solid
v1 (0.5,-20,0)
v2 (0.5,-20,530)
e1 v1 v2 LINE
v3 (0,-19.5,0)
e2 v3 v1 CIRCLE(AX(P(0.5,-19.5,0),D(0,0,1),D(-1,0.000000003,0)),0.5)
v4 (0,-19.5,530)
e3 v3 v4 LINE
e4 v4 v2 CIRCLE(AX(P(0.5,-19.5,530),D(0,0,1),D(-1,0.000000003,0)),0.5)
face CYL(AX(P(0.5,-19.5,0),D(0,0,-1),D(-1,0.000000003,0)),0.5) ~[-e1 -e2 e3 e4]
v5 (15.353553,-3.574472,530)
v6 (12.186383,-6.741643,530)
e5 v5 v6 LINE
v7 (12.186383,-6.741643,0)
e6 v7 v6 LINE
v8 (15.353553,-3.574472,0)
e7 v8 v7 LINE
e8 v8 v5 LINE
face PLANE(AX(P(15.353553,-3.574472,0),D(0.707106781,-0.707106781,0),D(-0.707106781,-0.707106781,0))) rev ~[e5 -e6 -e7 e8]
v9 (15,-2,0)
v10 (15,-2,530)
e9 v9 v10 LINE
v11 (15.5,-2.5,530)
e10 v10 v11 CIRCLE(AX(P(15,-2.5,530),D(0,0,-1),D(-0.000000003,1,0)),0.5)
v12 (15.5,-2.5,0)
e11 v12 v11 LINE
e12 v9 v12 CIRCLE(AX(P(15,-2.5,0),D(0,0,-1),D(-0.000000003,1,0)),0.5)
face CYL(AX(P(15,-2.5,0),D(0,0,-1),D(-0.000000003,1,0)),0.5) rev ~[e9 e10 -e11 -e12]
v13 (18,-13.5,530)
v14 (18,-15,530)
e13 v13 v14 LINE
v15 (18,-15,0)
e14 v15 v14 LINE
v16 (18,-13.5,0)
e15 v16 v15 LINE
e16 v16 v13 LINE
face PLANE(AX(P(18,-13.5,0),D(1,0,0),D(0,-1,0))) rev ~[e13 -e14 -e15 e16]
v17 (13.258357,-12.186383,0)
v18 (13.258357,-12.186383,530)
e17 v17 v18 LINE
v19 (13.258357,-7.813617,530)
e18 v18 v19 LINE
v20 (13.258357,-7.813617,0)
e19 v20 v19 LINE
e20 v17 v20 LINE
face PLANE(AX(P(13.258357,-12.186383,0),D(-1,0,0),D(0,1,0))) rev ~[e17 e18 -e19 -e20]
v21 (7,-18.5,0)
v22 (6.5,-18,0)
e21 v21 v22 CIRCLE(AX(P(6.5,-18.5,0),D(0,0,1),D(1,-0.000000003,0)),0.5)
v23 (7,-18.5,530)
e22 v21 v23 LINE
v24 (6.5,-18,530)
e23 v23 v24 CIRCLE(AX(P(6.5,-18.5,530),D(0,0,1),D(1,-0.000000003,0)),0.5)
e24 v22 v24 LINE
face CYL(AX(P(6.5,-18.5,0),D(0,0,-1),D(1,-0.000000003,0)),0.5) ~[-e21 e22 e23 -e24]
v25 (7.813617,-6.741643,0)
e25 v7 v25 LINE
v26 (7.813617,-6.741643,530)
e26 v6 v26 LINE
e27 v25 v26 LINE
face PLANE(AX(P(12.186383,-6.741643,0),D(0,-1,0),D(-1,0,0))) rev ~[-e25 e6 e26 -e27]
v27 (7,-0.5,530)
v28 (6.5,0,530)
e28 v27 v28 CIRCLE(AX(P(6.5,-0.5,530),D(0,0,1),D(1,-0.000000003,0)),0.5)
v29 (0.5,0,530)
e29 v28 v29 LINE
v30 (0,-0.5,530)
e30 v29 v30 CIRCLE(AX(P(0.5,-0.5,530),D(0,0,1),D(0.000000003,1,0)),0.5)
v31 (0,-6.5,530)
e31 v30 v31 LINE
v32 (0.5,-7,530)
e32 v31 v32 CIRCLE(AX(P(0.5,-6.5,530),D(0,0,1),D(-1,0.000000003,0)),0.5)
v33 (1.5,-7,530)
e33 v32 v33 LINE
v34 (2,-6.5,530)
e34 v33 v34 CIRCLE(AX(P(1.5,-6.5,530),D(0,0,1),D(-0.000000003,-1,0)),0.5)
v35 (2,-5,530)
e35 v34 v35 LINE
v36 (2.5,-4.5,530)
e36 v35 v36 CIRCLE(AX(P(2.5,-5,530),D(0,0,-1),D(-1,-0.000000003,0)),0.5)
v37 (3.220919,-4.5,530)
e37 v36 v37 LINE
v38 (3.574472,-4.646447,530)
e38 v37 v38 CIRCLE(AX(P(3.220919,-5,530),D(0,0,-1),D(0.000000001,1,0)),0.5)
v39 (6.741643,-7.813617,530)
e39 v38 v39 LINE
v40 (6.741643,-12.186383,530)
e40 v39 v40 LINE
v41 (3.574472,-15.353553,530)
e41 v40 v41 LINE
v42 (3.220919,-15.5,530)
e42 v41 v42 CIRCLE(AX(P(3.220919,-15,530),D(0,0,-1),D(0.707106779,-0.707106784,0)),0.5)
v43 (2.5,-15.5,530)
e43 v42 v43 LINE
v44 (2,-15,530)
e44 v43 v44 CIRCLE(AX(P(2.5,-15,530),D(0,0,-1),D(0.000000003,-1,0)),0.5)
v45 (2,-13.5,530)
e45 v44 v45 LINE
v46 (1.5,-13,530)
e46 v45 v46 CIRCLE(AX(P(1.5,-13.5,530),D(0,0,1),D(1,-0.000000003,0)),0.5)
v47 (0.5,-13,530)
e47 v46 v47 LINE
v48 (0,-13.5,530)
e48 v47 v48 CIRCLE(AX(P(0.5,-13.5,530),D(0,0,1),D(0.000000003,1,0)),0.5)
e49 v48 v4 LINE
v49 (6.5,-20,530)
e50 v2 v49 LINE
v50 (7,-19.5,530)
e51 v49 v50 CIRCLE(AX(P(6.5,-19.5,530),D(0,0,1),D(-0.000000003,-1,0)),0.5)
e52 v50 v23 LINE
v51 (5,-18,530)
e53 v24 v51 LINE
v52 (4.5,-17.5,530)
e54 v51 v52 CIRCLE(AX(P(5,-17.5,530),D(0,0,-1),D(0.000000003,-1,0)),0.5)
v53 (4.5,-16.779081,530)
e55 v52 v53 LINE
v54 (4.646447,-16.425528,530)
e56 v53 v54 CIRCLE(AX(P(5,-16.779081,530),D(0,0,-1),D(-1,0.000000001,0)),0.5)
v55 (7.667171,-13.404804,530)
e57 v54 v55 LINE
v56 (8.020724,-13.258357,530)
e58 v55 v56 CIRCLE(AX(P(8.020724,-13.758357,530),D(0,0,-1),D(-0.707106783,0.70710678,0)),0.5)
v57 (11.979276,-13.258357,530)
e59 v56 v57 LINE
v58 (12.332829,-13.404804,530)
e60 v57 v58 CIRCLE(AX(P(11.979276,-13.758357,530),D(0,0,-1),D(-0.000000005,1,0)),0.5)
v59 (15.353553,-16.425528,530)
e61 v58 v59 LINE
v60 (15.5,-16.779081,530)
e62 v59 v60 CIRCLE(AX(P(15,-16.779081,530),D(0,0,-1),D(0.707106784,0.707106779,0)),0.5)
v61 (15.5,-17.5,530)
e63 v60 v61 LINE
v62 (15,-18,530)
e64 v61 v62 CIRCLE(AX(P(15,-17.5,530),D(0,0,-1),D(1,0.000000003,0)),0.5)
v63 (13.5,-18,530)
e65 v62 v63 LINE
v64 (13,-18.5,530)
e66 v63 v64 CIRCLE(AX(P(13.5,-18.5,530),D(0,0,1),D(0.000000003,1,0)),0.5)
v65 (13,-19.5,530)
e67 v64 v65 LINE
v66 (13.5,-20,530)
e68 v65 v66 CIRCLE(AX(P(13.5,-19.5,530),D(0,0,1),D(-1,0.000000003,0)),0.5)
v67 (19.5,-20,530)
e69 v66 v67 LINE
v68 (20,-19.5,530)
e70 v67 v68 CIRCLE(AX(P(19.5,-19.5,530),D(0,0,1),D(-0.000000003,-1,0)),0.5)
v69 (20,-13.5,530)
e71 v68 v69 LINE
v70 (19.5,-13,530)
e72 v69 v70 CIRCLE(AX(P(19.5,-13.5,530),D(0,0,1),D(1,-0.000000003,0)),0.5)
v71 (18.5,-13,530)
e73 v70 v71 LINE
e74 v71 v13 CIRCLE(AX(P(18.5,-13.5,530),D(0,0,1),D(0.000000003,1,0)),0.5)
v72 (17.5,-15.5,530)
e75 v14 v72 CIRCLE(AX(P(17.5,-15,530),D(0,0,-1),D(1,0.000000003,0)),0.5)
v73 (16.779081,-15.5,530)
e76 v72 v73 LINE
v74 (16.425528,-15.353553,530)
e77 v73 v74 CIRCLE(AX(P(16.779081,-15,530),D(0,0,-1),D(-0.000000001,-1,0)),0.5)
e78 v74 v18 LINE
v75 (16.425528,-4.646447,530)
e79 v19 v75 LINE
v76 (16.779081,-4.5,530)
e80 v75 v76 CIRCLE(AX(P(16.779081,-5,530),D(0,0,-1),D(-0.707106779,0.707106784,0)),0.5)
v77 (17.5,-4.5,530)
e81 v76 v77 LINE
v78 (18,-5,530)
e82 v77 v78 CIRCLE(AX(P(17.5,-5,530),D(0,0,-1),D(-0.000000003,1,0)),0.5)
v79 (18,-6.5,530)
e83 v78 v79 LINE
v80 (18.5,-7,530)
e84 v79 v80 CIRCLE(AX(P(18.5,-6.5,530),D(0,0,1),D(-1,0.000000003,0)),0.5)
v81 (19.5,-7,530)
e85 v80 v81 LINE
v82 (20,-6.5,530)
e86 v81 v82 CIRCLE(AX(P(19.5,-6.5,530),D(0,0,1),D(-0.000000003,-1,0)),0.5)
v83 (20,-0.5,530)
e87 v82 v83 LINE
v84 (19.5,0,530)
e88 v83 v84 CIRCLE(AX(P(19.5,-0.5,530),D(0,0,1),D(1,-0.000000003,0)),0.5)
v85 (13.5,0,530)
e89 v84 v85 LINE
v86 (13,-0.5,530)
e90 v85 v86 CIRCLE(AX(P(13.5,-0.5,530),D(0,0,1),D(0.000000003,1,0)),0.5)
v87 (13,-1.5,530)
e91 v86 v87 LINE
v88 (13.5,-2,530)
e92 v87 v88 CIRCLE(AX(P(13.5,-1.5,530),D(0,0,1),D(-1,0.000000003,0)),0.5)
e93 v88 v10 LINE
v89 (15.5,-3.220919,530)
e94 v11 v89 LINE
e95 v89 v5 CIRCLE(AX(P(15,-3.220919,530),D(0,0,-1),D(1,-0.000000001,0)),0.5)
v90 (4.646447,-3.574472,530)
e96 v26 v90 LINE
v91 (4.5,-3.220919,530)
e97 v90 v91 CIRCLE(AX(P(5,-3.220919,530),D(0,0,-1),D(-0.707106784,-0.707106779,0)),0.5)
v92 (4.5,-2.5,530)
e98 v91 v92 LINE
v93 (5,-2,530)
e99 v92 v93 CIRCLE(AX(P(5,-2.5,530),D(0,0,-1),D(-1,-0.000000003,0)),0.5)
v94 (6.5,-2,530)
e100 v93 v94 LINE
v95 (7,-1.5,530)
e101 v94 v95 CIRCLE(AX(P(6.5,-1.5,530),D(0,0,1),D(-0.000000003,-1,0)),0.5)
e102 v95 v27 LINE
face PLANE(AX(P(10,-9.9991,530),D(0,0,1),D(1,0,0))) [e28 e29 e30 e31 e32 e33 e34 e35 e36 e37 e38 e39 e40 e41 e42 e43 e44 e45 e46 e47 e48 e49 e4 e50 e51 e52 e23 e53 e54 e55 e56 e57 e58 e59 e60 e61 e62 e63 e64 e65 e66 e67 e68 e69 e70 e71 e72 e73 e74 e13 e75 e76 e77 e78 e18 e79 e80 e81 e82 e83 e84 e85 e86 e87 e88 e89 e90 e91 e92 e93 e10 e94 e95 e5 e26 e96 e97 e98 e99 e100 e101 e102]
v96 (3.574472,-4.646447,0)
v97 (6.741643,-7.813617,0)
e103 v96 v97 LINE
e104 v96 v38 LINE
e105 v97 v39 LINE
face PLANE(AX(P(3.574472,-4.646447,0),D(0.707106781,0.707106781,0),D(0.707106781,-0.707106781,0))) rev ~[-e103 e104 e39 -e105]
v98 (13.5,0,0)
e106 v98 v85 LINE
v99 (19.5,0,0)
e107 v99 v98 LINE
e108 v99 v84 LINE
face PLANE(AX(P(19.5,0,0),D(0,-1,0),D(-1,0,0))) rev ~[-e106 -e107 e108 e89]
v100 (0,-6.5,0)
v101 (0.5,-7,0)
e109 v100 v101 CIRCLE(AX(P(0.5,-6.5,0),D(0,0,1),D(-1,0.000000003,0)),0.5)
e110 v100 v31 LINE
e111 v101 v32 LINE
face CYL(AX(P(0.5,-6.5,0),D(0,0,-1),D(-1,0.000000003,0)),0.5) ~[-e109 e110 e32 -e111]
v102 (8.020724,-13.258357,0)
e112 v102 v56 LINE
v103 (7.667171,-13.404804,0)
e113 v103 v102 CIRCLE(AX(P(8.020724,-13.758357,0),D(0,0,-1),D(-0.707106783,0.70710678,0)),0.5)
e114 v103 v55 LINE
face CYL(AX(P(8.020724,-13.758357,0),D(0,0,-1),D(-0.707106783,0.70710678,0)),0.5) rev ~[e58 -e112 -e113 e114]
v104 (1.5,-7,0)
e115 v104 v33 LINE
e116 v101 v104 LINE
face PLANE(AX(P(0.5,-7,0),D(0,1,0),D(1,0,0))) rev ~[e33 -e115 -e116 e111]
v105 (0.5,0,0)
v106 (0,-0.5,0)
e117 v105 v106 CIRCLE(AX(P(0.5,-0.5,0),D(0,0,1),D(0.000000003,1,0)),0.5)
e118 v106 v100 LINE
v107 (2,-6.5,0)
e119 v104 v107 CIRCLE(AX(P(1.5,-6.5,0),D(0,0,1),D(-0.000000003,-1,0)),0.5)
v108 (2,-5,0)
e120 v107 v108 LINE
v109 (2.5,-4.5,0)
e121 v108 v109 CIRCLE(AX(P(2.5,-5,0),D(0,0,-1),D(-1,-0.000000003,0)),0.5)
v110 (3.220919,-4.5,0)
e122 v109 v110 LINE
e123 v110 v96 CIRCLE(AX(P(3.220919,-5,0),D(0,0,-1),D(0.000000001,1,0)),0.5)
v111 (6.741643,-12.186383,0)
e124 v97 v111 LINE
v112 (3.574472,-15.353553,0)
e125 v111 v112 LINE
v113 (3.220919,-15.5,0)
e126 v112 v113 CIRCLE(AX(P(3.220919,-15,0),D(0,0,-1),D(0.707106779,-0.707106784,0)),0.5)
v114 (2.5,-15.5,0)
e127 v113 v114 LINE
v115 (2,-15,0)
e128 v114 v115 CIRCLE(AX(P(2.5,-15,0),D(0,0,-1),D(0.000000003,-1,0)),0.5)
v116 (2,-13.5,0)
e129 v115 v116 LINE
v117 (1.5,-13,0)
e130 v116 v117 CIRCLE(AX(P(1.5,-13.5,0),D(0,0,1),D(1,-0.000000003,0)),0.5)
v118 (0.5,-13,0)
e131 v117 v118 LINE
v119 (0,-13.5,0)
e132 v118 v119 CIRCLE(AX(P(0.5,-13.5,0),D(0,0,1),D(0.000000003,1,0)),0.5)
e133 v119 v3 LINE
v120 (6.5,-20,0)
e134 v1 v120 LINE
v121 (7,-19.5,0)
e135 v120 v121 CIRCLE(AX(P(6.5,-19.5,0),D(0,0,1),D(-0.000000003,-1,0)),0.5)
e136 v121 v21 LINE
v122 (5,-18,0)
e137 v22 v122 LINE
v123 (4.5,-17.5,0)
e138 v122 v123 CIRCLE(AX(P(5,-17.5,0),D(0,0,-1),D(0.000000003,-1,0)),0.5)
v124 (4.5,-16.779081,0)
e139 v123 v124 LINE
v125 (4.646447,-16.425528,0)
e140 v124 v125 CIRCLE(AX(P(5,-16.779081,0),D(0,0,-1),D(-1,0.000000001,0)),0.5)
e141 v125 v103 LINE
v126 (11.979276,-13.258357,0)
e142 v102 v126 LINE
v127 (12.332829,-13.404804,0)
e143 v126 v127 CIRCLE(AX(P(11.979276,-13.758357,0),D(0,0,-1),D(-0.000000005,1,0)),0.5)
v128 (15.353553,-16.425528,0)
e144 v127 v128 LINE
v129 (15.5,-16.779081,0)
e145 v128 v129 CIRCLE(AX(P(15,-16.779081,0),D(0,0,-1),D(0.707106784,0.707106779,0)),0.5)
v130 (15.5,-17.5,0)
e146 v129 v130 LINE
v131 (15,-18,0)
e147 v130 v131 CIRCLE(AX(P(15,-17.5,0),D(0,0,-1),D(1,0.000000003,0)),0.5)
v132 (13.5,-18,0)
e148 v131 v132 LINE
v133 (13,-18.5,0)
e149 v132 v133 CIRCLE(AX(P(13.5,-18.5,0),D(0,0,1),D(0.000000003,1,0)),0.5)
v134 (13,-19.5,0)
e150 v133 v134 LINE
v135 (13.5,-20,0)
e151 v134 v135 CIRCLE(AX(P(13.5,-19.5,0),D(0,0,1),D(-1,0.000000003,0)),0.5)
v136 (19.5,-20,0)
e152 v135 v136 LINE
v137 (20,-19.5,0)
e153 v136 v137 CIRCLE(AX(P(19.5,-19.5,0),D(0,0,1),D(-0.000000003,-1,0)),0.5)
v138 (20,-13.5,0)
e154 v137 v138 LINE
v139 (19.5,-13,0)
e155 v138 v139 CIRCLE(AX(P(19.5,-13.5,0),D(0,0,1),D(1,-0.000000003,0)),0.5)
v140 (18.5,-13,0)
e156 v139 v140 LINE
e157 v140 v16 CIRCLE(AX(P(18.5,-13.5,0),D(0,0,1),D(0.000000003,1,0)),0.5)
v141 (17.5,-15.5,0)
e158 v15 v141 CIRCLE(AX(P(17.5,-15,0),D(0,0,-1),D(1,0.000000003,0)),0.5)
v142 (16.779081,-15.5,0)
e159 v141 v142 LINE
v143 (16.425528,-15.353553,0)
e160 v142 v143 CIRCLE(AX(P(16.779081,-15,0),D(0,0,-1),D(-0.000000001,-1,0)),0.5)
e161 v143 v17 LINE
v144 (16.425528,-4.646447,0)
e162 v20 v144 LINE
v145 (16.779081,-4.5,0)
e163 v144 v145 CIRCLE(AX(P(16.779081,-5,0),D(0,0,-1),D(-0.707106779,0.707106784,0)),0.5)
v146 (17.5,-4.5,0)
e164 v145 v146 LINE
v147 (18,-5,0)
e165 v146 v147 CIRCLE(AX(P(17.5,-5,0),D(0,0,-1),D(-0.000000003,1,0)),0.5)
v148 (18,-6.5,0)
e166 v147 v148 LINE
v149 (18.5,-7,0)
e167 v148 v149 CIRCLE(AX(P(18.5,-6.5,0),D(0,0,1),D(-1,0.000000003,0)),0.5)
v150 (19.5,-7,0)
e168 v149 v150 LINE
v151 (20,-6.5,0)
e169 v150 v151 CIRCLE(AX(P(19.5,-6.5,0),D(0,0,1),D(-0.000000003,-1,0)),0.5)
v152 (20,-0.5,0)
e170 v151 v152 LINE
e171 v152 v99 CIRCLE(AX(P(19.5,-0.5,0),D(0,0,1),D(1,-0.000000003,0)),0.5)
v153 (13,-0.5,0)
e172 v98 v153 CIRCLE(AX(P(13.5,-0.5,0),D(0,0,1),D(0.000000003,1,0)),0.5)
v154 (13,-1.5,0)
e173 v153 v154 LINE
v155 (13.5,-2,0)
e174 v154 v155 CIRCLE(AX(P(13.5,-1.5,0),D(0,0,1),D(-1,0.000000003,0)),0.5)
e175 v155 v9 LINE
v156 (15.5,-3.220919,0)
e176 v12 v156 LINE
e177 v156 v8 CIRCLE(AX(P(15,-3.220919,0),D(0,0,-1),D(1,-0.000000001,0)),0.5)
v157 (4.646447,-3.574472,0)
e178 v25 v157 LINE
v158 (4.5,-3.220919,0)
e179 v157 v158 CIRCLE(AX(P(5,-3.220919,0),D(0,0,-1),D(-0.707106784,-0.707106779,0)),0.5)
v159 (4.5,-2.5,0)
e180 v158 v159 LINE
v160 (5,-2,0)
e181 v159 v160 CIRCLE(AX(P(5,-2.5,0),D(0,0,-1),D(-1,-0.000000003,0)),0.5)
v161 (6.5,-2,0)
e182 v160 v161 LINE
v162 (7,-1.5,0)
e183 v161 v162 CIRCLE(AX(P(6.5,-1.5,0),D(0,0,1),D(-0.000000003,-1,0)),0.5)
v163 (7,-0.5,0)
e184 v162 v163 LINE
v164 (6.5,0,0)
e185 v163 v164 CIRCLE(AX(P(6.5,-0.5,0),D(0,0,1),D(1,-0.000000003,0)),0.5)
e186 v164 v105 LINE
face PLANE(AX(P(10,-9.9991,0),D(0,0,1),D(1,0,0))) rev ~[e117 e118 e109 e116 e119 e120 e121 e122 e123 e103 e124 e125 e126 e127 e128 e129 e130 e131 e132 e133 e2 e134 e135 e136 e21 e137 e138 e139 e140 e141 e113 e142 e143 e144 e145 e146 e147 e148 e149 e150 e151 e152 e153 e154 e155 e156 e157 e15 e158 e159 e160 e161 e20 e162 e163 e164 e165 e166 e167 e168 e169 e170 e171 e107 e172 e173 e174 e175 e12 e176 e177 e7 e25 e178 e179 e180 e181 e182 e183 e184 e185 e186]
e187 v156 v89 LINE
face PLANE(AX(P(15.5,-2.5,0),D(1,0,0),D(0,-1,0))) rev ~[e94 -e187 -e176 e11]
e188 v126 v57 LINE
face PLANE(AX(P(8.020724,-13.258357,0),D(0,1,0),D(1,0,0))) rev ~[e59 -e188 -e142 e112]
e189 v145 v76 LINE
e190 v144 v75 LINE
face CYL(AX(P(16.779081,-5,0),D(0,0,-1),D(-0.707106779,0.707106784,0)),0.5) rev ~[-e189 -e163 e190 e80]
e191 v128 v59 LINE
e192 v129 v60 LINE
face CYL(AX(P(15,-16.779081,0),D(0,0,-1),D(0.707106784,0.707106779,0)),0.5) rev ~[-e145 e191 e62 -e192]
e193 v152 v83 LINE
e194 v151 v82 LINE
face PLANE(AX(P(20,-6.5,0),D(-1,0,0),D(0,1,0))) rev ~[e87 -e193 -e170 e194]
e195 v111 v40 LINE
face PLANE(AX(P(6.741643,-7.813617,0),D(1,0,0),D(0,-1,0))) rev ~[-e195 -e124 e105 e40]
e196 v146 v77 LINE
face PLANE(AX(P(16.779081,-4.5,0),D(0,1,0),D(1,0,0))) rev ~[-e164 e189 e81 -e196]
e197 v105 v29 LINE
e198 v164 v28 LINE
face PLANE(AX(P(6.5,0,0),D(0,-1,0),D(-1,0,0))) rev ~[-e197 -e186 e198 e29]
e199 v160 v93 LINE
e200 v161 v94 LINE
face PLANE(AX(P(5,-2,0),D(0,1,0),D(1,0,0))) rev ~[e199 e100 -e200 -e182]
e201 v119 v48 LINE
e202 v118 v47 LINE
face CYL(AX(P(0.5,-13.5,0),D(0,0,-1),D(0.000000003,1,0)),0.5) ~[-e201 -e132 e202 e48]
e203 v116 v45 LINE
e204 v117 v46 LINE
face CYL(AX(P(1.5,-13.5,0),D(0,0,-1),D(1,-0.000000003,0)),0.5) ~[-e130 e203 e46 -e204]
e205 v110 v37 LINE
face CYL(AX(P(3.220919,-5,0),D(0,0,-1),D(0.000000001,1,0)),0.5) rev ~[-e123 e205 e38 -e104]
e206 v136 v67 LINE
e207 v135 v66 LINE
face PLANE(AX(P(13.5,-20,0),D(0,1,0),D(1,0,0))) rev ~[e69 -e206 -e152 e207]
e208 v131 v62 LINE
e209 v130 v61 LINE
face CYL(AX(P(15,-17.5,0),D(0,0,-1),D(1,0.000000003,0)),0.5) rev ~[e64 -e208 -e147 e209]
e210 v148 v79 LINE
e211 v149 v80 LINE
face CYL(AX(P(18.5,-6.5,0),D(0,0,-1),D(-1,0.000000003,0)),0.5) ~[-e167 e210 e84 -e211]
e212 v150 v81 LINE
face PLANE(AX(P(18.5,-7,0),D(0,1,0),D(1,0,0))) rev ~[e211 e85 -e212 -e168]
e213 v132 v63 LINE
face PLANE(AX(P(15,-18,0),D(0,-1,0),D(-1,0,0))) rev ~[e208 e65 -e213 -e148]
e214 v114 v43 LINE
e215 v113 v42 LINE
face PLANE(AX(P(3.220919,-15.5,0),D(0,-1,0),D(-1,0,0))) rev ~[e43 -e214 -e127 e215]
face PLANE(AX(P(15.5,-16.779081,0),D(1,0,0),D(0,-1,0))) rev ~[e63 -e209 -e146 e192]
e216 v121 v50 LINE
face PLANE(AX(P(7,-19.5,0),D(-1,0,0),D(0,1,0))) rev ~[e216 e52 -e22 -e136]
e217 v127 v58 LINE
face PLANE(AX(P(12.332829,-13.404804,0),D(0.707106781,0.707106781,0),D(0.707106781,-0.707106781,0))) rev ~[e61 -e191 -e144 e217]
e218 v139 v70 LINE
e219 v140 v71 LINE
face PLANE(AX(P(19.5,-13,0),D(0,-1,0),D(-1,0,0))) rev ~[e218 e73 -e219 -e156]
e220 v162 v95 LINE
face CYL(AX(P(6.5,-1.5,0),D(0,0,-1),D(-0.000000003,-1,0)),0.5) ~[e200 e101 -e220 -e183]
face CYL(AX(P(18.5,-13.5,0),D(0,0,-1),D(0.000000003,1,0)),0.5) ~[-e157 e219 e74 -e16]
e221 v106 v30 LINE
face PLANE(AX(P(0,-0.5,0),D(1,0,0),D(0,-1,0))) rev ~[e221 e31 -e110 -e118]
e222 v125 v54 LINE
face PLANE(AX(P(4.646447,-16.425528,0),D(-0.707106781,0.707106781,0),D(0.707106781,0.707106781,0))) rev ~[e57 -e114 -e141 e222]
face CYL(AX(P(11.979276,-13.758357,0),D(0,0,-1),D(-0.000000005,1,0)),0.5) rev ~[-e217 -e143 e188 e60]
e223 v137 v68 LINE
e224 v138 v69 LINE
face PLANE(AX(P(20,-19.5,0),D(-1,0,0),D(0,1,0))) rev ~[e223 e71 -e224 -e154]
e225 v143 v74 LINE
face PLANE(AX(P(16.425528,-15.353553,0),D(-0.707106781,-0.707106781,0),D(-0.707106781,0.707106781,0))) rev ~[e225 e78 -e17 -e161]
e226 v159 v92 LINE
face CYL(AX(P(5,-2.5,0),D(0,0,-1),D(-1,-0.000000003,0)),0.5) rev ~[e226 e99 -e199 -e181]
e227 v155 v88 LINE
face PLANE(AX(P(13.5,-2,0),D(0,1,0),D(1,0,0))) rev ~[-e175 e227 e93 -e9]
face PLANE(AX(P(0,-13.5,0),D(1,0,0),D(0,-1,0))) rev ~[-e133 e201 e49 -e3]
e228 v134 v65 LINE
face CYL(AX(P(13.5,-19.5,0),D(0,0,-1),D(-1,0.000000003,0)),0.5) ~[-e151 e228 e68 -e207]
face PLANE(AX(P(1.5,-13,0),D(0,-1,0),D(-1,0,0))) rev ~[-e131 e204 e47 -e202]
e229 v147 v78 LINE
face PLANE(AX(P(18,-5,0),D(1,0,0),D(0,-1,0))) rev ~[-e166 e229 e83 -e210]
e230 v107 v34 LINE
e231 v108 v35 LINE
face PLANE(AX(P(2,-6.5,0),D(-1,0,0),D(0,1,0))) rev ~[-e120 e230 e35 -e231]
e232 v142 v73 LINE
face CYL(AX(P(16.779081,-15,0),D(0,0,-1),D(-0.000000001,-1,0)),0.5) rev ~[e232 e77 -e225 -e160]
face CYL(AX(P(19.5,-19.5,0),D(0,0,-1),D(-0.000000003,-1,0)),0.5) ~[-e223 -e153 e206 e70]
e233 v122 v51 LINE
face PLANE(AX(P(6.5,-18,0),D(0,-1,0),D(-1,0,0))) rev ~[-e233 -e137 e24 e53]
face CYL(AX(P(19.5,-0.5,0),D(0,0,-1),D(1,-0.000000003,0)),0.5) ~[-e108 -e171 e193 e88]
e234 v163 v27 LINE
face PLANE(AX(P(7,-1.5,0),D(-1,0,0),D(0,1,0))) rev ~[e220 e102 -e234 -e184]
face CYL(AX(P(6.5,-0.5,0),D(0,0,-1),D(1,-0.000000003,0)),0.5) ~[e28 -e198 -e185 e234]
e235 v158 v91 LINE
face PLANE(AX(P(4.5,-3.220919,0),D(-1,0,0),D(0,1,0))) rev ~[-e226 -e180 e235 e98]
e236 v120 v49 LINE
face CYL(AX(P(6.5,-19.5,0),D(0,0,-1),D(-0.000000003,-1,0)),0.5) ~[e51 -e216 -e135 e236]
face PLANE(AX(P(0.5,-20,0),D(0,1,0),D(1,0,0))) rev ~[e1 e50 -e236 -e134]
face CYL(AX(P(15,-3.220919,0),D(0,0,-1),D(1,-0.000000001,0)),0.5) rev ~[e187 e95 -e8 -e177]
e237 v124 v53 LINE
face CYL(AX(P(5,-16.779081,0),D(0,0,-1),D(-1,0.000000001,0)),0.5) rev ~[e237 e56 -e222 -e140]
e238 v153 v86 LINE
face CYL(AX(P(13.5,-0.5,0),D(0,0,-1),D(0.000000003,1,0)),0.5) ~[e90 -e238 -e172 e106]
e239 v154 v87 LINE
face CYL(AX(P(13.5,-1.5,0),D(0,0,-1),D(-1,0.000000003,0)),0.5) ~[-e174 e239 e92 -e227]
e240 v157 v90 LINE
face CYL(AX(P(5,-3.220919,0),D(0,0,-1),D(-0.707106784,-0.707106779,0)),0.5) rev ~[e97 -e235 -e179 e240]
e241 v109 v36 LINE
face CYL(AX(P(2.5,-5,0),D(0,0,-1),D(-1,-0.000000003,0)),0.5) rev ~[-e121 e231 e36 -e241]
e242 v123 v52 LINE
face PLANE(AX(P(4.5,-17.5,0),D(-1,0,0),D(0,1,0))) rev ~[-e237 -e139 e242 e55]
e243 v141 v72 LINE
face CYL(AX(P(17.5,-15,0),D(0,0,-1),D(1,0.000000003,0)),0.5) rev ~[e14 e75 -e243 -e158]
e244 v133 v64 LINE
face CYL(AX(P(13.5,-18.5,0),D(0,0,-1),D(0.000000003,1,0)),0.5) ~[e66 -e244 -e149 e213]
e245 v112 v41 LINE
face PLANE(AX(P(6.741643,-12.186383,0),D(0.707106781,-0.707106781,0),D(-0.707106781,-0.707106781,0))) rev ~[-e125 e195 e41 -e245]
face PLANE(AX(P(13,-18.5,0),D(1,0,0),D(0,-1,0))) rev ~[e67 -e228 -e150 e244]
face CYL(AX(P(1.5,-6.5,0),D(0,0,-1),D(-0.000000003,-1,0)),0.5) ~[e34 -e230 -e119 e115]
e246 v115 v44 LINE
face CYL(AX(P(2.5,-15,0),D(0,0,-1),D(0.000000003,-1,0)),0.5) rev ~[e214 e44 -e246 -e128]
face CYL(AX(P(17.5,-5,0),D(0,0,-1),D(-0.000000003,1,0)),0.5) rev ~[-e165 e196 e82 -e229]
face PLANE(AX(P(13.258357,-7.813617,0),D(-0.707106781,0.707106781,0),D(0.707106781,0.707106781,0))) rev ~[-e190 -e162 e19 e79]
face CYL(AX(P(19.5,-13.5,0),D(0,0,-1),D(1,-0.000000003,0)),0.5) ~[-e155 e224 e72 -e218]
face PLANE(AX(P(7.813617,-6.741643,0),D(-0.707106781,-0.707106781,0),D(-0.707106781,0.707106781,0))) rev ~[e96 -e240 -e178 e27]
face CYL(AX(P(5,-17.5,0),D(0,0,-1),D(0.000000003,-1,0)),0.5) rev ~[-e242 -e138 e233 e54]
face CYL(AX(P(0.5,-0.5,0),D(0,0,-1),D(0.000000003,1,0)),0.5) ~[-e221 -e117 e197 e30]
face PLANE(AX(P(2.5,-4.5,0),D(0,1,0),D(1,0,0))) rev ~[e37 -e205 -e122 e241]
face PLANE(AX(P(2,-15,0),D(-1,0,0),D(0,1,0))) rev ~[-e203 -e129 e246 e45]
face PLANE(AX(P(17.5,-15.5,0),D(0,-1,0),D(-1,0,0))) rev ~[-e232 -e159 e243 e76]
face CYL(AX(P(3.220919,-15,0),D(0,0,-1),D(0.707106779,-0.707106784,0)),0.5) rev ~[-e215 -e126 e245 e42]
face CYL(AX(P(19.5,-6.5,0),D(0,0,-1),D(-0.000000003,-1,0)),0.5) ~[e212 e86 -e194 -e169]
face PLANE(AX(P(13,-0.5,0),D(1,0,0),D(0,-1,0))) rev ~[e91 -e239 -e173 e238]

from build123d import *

# Parameters (mm, degrees)
EXTRUDE_1_DEPTH = 530


with BuildPart() as part:
    # 草图1 → 凸台-拉伸1 (new body)
    with BuildSketch(Plane.XY):
        with BuildLine():
            Line((6.5, 0), (0.5, 0))
            ThreePointArc((0.5, 0), (0.146446609, -0.146446609), (0, -0.5))
            Line((0, -0.5), (0, -6.5))
            ThreePointArc((0, -6.5), (0.146446609, -6.853553391), (0.5, -7))
            Line((0.5, -7), (1.5, -7))
            ThreePointArc((1.5, -7), (1.853553391, -6.853553391), (2, -6.5))
            Line((2, -6.5), (2, -5))
            ThreePointArc((2, -5), (2.146446609, -4.646446609), (2.5, -4.5))
            Line((2.5, -4.5), (3.220918534, -4.5))
            ThreePointArc((3.220918534, -4.5), (3.412260251, -4.538060234), (3.574471925, -4.646446609))
            Line((3.574471925, -4.646446609), (6.741642787, -7.813617472))
            Line((6.741642787, -7.813617472), (6.741642787, -12.186382528))
            Line((6.741642787, -12.186382528), (3.574471925, -15.353553391))
            ThreePointArc((3.574471925, -15.353553391), (3.412260251, -15.461939766), (3.220918534, -15.5))
            Line((3.220918534, -15.5), (2.5, -15.5))
            ThreePointArc((2.5, -15.5), (2.146446609, -15.353553391), (2, -15))
            Line((2, -15), (2, -13.5))
            ThreePointArc((2, -13.5), (1.853553391, -13.146446609), (1.5, -13))
            Line((1.5, -13), (0.5, -13))
            ThreePointArc((0.5, -13), (0.146446609, -13.146446609), (0, -13.5))
            Line((0, -13.5), (0, -19.5))
            ThreePointArc((0, -19.5), (0.146446609, -19.853553391), (0.5, -20))
            Line((0.5, -20), (6.5, -20))
            ThreePointArc((6.5, -20), (6.853553391, -19.853553391), (7, -19.5))
            Line((7, -19.5), (7, -18.5))
            ThreePointArc((7, -18.5), (6.853553391, -18.146446609), (6.5, -18))
            Line((6.5, -18), (5, -18))
            ThreePointArc((5, -18), (4.646446609, -17.853553391), (4.5, -17.5))
            Line((4.5, -17.5), (4.5, -16.779081466))
            ThreePointArc((4.5, -16.779081466), (4.538060234, -16.587739749), (4.646446609, -16.425528075))
            Line((4.646446609, -16.425528075), (7.667170862, -13.404803822))
            ThreePointArc((7.667170862, -13.404803822), (7.829382537, -13.296417446), (8.020724253, -13.258357213))
            Line((8.020724253, -13.258357213), (11.979275747, -13.258357213))
            ThreePointArc((11.979275747, -13.258357213), (12.170617463, -13.296417446), (12.332829138, -13.404803822))
            Line((12.332829138, -13.404803822), (15.353553391, -16.425528075))
            ThreePointArc((15.353553391, -16.425528075), (15.461939766, -16.587739749), (15.5, -16.779081466))
            Line((15.5, -16.779081466), (15.5, -17.5))
            ThreePointArc((15.5, -17.5), (15.353553391, -17.853553391), (15, -18))
            Line((15, -18), (13.5, -18))
            ThreePointArc((13.5, -18), (13.146446609, -18.146446609), (13, -18.5))
            Line((13, -18.5), (13, -19.5))
            ThreePointArc((13, -19.5), (13.146446609, -19.853553391), (13.5, -20))
            Line((13.5, -20), (19.5, -20))
            ThreePointArc((19.5, -20), (19.853553391, -19.853553391), (20, -19.5))
            Line((20, -19.5), (20, -13.5))
            ThreePointArc((20, -13.5), (19.853553391, -13.146446609), (19.5, -13))
            Line((19.5, -13), (18.5, -13))
            ThreePointArc((18.5, -13), (18.146446609, -13.146446609), (18, -13.5))
            Line((18, -13.5), (18, -15))
            ThreePointArc((18, -15), (17.853553391, -15.353553391), (17.5, -15.5))
            Line((17.5, -15.5), (16.779081466, -15.5))
            ThreePointArc((16.779081466, -15.5), (16.587739749, -15.461939766), (16.425528075, -15.353553391))
            Line((16.425528075, -15.353553391), (13.258357213, -12.186382528))
            Line((13.258357213, -12.186382528), (13.258357213, -7.813617472))
            Line((13.258357213, -7.813617472), (16.425528075, -4.646446609))
            ThreePointArc((16.425528075, -4.646446609), (16.587739749, -4.538060234), (16.779081466, -4.5))
            Line((16.779081466, -4.5), (17.5, -4.5))
            ThreePointArc((17.5, -4.5), (17.853553391, -4.646446609), (18, -5))
            Line((18, -5), (18, -6.5))
            ThreePointArc((18, -6.5), (18.146446609, -6.853553391), (18.5, -7))
            Line((18.5, -7), (19.5, -7))
            ThreePointArc((19.5, -7), (19.853553391, -6.853553391), (20, -6.5))
            Line((20, -6.5), (20, -0.5))
            ThreePointArc((20, -0.5), (19.853553391, -0.146446609), (19.5, 0))
            Line((19.5, 0), (13.5, 0))
            ThreePointArc((13.5, 0), (13.146446609, -0.146446609), (13, -0.5))
            Line((13, -0.5), (13, -1.5))
            ThreePointArc((13, -1.5), (13.146446609, -1.853553391), (13.5, -2))
            Line((13.5, -2), (15, -2))
            ThreePointArc((15, -2), (15.353553391, -2.146446609), (15.5, -2.5))
            Line((15.5, -2.5), (15.5, -3.220918534))
            ThreePointArc((15.5, -3.220918534), (15.461939766, -3.412260251), (15.353553391, -3.574471925))
            Line((15.353553391, -3.574471925), (12.186382528, -6.741642787))
            Line((12.186382528, -6.741642787), (7.813617472, -6.741642787))
            Line((7.813617472, -6.741642787), (4.646446609, -3.574471925))
            ThreePointArc((4.646446609, -3.574471925), (4.538060234, -3.412260251), (4.5, -3.220918534))
            Line((4.5, -3.220918534), (4.5, -2.5))
            ThreePointArc((4.5, -2.5), (4.646446609, -2.146446609), (5, -2))
            Line((5, -2), (6.5, -2))
            ThreePointArc((6.5, -2), (6.853553391, -1.853553391), (7, -1.5))
            Line((7, -1.5), (7, -0.5))
            ThreePointArc((7, -0.5), (6.853553391, -0.146446609), (6.5, 0))
        make_face()
    extrude(amount=EXTRUDE_1_DEPTH)


solid = part.part
